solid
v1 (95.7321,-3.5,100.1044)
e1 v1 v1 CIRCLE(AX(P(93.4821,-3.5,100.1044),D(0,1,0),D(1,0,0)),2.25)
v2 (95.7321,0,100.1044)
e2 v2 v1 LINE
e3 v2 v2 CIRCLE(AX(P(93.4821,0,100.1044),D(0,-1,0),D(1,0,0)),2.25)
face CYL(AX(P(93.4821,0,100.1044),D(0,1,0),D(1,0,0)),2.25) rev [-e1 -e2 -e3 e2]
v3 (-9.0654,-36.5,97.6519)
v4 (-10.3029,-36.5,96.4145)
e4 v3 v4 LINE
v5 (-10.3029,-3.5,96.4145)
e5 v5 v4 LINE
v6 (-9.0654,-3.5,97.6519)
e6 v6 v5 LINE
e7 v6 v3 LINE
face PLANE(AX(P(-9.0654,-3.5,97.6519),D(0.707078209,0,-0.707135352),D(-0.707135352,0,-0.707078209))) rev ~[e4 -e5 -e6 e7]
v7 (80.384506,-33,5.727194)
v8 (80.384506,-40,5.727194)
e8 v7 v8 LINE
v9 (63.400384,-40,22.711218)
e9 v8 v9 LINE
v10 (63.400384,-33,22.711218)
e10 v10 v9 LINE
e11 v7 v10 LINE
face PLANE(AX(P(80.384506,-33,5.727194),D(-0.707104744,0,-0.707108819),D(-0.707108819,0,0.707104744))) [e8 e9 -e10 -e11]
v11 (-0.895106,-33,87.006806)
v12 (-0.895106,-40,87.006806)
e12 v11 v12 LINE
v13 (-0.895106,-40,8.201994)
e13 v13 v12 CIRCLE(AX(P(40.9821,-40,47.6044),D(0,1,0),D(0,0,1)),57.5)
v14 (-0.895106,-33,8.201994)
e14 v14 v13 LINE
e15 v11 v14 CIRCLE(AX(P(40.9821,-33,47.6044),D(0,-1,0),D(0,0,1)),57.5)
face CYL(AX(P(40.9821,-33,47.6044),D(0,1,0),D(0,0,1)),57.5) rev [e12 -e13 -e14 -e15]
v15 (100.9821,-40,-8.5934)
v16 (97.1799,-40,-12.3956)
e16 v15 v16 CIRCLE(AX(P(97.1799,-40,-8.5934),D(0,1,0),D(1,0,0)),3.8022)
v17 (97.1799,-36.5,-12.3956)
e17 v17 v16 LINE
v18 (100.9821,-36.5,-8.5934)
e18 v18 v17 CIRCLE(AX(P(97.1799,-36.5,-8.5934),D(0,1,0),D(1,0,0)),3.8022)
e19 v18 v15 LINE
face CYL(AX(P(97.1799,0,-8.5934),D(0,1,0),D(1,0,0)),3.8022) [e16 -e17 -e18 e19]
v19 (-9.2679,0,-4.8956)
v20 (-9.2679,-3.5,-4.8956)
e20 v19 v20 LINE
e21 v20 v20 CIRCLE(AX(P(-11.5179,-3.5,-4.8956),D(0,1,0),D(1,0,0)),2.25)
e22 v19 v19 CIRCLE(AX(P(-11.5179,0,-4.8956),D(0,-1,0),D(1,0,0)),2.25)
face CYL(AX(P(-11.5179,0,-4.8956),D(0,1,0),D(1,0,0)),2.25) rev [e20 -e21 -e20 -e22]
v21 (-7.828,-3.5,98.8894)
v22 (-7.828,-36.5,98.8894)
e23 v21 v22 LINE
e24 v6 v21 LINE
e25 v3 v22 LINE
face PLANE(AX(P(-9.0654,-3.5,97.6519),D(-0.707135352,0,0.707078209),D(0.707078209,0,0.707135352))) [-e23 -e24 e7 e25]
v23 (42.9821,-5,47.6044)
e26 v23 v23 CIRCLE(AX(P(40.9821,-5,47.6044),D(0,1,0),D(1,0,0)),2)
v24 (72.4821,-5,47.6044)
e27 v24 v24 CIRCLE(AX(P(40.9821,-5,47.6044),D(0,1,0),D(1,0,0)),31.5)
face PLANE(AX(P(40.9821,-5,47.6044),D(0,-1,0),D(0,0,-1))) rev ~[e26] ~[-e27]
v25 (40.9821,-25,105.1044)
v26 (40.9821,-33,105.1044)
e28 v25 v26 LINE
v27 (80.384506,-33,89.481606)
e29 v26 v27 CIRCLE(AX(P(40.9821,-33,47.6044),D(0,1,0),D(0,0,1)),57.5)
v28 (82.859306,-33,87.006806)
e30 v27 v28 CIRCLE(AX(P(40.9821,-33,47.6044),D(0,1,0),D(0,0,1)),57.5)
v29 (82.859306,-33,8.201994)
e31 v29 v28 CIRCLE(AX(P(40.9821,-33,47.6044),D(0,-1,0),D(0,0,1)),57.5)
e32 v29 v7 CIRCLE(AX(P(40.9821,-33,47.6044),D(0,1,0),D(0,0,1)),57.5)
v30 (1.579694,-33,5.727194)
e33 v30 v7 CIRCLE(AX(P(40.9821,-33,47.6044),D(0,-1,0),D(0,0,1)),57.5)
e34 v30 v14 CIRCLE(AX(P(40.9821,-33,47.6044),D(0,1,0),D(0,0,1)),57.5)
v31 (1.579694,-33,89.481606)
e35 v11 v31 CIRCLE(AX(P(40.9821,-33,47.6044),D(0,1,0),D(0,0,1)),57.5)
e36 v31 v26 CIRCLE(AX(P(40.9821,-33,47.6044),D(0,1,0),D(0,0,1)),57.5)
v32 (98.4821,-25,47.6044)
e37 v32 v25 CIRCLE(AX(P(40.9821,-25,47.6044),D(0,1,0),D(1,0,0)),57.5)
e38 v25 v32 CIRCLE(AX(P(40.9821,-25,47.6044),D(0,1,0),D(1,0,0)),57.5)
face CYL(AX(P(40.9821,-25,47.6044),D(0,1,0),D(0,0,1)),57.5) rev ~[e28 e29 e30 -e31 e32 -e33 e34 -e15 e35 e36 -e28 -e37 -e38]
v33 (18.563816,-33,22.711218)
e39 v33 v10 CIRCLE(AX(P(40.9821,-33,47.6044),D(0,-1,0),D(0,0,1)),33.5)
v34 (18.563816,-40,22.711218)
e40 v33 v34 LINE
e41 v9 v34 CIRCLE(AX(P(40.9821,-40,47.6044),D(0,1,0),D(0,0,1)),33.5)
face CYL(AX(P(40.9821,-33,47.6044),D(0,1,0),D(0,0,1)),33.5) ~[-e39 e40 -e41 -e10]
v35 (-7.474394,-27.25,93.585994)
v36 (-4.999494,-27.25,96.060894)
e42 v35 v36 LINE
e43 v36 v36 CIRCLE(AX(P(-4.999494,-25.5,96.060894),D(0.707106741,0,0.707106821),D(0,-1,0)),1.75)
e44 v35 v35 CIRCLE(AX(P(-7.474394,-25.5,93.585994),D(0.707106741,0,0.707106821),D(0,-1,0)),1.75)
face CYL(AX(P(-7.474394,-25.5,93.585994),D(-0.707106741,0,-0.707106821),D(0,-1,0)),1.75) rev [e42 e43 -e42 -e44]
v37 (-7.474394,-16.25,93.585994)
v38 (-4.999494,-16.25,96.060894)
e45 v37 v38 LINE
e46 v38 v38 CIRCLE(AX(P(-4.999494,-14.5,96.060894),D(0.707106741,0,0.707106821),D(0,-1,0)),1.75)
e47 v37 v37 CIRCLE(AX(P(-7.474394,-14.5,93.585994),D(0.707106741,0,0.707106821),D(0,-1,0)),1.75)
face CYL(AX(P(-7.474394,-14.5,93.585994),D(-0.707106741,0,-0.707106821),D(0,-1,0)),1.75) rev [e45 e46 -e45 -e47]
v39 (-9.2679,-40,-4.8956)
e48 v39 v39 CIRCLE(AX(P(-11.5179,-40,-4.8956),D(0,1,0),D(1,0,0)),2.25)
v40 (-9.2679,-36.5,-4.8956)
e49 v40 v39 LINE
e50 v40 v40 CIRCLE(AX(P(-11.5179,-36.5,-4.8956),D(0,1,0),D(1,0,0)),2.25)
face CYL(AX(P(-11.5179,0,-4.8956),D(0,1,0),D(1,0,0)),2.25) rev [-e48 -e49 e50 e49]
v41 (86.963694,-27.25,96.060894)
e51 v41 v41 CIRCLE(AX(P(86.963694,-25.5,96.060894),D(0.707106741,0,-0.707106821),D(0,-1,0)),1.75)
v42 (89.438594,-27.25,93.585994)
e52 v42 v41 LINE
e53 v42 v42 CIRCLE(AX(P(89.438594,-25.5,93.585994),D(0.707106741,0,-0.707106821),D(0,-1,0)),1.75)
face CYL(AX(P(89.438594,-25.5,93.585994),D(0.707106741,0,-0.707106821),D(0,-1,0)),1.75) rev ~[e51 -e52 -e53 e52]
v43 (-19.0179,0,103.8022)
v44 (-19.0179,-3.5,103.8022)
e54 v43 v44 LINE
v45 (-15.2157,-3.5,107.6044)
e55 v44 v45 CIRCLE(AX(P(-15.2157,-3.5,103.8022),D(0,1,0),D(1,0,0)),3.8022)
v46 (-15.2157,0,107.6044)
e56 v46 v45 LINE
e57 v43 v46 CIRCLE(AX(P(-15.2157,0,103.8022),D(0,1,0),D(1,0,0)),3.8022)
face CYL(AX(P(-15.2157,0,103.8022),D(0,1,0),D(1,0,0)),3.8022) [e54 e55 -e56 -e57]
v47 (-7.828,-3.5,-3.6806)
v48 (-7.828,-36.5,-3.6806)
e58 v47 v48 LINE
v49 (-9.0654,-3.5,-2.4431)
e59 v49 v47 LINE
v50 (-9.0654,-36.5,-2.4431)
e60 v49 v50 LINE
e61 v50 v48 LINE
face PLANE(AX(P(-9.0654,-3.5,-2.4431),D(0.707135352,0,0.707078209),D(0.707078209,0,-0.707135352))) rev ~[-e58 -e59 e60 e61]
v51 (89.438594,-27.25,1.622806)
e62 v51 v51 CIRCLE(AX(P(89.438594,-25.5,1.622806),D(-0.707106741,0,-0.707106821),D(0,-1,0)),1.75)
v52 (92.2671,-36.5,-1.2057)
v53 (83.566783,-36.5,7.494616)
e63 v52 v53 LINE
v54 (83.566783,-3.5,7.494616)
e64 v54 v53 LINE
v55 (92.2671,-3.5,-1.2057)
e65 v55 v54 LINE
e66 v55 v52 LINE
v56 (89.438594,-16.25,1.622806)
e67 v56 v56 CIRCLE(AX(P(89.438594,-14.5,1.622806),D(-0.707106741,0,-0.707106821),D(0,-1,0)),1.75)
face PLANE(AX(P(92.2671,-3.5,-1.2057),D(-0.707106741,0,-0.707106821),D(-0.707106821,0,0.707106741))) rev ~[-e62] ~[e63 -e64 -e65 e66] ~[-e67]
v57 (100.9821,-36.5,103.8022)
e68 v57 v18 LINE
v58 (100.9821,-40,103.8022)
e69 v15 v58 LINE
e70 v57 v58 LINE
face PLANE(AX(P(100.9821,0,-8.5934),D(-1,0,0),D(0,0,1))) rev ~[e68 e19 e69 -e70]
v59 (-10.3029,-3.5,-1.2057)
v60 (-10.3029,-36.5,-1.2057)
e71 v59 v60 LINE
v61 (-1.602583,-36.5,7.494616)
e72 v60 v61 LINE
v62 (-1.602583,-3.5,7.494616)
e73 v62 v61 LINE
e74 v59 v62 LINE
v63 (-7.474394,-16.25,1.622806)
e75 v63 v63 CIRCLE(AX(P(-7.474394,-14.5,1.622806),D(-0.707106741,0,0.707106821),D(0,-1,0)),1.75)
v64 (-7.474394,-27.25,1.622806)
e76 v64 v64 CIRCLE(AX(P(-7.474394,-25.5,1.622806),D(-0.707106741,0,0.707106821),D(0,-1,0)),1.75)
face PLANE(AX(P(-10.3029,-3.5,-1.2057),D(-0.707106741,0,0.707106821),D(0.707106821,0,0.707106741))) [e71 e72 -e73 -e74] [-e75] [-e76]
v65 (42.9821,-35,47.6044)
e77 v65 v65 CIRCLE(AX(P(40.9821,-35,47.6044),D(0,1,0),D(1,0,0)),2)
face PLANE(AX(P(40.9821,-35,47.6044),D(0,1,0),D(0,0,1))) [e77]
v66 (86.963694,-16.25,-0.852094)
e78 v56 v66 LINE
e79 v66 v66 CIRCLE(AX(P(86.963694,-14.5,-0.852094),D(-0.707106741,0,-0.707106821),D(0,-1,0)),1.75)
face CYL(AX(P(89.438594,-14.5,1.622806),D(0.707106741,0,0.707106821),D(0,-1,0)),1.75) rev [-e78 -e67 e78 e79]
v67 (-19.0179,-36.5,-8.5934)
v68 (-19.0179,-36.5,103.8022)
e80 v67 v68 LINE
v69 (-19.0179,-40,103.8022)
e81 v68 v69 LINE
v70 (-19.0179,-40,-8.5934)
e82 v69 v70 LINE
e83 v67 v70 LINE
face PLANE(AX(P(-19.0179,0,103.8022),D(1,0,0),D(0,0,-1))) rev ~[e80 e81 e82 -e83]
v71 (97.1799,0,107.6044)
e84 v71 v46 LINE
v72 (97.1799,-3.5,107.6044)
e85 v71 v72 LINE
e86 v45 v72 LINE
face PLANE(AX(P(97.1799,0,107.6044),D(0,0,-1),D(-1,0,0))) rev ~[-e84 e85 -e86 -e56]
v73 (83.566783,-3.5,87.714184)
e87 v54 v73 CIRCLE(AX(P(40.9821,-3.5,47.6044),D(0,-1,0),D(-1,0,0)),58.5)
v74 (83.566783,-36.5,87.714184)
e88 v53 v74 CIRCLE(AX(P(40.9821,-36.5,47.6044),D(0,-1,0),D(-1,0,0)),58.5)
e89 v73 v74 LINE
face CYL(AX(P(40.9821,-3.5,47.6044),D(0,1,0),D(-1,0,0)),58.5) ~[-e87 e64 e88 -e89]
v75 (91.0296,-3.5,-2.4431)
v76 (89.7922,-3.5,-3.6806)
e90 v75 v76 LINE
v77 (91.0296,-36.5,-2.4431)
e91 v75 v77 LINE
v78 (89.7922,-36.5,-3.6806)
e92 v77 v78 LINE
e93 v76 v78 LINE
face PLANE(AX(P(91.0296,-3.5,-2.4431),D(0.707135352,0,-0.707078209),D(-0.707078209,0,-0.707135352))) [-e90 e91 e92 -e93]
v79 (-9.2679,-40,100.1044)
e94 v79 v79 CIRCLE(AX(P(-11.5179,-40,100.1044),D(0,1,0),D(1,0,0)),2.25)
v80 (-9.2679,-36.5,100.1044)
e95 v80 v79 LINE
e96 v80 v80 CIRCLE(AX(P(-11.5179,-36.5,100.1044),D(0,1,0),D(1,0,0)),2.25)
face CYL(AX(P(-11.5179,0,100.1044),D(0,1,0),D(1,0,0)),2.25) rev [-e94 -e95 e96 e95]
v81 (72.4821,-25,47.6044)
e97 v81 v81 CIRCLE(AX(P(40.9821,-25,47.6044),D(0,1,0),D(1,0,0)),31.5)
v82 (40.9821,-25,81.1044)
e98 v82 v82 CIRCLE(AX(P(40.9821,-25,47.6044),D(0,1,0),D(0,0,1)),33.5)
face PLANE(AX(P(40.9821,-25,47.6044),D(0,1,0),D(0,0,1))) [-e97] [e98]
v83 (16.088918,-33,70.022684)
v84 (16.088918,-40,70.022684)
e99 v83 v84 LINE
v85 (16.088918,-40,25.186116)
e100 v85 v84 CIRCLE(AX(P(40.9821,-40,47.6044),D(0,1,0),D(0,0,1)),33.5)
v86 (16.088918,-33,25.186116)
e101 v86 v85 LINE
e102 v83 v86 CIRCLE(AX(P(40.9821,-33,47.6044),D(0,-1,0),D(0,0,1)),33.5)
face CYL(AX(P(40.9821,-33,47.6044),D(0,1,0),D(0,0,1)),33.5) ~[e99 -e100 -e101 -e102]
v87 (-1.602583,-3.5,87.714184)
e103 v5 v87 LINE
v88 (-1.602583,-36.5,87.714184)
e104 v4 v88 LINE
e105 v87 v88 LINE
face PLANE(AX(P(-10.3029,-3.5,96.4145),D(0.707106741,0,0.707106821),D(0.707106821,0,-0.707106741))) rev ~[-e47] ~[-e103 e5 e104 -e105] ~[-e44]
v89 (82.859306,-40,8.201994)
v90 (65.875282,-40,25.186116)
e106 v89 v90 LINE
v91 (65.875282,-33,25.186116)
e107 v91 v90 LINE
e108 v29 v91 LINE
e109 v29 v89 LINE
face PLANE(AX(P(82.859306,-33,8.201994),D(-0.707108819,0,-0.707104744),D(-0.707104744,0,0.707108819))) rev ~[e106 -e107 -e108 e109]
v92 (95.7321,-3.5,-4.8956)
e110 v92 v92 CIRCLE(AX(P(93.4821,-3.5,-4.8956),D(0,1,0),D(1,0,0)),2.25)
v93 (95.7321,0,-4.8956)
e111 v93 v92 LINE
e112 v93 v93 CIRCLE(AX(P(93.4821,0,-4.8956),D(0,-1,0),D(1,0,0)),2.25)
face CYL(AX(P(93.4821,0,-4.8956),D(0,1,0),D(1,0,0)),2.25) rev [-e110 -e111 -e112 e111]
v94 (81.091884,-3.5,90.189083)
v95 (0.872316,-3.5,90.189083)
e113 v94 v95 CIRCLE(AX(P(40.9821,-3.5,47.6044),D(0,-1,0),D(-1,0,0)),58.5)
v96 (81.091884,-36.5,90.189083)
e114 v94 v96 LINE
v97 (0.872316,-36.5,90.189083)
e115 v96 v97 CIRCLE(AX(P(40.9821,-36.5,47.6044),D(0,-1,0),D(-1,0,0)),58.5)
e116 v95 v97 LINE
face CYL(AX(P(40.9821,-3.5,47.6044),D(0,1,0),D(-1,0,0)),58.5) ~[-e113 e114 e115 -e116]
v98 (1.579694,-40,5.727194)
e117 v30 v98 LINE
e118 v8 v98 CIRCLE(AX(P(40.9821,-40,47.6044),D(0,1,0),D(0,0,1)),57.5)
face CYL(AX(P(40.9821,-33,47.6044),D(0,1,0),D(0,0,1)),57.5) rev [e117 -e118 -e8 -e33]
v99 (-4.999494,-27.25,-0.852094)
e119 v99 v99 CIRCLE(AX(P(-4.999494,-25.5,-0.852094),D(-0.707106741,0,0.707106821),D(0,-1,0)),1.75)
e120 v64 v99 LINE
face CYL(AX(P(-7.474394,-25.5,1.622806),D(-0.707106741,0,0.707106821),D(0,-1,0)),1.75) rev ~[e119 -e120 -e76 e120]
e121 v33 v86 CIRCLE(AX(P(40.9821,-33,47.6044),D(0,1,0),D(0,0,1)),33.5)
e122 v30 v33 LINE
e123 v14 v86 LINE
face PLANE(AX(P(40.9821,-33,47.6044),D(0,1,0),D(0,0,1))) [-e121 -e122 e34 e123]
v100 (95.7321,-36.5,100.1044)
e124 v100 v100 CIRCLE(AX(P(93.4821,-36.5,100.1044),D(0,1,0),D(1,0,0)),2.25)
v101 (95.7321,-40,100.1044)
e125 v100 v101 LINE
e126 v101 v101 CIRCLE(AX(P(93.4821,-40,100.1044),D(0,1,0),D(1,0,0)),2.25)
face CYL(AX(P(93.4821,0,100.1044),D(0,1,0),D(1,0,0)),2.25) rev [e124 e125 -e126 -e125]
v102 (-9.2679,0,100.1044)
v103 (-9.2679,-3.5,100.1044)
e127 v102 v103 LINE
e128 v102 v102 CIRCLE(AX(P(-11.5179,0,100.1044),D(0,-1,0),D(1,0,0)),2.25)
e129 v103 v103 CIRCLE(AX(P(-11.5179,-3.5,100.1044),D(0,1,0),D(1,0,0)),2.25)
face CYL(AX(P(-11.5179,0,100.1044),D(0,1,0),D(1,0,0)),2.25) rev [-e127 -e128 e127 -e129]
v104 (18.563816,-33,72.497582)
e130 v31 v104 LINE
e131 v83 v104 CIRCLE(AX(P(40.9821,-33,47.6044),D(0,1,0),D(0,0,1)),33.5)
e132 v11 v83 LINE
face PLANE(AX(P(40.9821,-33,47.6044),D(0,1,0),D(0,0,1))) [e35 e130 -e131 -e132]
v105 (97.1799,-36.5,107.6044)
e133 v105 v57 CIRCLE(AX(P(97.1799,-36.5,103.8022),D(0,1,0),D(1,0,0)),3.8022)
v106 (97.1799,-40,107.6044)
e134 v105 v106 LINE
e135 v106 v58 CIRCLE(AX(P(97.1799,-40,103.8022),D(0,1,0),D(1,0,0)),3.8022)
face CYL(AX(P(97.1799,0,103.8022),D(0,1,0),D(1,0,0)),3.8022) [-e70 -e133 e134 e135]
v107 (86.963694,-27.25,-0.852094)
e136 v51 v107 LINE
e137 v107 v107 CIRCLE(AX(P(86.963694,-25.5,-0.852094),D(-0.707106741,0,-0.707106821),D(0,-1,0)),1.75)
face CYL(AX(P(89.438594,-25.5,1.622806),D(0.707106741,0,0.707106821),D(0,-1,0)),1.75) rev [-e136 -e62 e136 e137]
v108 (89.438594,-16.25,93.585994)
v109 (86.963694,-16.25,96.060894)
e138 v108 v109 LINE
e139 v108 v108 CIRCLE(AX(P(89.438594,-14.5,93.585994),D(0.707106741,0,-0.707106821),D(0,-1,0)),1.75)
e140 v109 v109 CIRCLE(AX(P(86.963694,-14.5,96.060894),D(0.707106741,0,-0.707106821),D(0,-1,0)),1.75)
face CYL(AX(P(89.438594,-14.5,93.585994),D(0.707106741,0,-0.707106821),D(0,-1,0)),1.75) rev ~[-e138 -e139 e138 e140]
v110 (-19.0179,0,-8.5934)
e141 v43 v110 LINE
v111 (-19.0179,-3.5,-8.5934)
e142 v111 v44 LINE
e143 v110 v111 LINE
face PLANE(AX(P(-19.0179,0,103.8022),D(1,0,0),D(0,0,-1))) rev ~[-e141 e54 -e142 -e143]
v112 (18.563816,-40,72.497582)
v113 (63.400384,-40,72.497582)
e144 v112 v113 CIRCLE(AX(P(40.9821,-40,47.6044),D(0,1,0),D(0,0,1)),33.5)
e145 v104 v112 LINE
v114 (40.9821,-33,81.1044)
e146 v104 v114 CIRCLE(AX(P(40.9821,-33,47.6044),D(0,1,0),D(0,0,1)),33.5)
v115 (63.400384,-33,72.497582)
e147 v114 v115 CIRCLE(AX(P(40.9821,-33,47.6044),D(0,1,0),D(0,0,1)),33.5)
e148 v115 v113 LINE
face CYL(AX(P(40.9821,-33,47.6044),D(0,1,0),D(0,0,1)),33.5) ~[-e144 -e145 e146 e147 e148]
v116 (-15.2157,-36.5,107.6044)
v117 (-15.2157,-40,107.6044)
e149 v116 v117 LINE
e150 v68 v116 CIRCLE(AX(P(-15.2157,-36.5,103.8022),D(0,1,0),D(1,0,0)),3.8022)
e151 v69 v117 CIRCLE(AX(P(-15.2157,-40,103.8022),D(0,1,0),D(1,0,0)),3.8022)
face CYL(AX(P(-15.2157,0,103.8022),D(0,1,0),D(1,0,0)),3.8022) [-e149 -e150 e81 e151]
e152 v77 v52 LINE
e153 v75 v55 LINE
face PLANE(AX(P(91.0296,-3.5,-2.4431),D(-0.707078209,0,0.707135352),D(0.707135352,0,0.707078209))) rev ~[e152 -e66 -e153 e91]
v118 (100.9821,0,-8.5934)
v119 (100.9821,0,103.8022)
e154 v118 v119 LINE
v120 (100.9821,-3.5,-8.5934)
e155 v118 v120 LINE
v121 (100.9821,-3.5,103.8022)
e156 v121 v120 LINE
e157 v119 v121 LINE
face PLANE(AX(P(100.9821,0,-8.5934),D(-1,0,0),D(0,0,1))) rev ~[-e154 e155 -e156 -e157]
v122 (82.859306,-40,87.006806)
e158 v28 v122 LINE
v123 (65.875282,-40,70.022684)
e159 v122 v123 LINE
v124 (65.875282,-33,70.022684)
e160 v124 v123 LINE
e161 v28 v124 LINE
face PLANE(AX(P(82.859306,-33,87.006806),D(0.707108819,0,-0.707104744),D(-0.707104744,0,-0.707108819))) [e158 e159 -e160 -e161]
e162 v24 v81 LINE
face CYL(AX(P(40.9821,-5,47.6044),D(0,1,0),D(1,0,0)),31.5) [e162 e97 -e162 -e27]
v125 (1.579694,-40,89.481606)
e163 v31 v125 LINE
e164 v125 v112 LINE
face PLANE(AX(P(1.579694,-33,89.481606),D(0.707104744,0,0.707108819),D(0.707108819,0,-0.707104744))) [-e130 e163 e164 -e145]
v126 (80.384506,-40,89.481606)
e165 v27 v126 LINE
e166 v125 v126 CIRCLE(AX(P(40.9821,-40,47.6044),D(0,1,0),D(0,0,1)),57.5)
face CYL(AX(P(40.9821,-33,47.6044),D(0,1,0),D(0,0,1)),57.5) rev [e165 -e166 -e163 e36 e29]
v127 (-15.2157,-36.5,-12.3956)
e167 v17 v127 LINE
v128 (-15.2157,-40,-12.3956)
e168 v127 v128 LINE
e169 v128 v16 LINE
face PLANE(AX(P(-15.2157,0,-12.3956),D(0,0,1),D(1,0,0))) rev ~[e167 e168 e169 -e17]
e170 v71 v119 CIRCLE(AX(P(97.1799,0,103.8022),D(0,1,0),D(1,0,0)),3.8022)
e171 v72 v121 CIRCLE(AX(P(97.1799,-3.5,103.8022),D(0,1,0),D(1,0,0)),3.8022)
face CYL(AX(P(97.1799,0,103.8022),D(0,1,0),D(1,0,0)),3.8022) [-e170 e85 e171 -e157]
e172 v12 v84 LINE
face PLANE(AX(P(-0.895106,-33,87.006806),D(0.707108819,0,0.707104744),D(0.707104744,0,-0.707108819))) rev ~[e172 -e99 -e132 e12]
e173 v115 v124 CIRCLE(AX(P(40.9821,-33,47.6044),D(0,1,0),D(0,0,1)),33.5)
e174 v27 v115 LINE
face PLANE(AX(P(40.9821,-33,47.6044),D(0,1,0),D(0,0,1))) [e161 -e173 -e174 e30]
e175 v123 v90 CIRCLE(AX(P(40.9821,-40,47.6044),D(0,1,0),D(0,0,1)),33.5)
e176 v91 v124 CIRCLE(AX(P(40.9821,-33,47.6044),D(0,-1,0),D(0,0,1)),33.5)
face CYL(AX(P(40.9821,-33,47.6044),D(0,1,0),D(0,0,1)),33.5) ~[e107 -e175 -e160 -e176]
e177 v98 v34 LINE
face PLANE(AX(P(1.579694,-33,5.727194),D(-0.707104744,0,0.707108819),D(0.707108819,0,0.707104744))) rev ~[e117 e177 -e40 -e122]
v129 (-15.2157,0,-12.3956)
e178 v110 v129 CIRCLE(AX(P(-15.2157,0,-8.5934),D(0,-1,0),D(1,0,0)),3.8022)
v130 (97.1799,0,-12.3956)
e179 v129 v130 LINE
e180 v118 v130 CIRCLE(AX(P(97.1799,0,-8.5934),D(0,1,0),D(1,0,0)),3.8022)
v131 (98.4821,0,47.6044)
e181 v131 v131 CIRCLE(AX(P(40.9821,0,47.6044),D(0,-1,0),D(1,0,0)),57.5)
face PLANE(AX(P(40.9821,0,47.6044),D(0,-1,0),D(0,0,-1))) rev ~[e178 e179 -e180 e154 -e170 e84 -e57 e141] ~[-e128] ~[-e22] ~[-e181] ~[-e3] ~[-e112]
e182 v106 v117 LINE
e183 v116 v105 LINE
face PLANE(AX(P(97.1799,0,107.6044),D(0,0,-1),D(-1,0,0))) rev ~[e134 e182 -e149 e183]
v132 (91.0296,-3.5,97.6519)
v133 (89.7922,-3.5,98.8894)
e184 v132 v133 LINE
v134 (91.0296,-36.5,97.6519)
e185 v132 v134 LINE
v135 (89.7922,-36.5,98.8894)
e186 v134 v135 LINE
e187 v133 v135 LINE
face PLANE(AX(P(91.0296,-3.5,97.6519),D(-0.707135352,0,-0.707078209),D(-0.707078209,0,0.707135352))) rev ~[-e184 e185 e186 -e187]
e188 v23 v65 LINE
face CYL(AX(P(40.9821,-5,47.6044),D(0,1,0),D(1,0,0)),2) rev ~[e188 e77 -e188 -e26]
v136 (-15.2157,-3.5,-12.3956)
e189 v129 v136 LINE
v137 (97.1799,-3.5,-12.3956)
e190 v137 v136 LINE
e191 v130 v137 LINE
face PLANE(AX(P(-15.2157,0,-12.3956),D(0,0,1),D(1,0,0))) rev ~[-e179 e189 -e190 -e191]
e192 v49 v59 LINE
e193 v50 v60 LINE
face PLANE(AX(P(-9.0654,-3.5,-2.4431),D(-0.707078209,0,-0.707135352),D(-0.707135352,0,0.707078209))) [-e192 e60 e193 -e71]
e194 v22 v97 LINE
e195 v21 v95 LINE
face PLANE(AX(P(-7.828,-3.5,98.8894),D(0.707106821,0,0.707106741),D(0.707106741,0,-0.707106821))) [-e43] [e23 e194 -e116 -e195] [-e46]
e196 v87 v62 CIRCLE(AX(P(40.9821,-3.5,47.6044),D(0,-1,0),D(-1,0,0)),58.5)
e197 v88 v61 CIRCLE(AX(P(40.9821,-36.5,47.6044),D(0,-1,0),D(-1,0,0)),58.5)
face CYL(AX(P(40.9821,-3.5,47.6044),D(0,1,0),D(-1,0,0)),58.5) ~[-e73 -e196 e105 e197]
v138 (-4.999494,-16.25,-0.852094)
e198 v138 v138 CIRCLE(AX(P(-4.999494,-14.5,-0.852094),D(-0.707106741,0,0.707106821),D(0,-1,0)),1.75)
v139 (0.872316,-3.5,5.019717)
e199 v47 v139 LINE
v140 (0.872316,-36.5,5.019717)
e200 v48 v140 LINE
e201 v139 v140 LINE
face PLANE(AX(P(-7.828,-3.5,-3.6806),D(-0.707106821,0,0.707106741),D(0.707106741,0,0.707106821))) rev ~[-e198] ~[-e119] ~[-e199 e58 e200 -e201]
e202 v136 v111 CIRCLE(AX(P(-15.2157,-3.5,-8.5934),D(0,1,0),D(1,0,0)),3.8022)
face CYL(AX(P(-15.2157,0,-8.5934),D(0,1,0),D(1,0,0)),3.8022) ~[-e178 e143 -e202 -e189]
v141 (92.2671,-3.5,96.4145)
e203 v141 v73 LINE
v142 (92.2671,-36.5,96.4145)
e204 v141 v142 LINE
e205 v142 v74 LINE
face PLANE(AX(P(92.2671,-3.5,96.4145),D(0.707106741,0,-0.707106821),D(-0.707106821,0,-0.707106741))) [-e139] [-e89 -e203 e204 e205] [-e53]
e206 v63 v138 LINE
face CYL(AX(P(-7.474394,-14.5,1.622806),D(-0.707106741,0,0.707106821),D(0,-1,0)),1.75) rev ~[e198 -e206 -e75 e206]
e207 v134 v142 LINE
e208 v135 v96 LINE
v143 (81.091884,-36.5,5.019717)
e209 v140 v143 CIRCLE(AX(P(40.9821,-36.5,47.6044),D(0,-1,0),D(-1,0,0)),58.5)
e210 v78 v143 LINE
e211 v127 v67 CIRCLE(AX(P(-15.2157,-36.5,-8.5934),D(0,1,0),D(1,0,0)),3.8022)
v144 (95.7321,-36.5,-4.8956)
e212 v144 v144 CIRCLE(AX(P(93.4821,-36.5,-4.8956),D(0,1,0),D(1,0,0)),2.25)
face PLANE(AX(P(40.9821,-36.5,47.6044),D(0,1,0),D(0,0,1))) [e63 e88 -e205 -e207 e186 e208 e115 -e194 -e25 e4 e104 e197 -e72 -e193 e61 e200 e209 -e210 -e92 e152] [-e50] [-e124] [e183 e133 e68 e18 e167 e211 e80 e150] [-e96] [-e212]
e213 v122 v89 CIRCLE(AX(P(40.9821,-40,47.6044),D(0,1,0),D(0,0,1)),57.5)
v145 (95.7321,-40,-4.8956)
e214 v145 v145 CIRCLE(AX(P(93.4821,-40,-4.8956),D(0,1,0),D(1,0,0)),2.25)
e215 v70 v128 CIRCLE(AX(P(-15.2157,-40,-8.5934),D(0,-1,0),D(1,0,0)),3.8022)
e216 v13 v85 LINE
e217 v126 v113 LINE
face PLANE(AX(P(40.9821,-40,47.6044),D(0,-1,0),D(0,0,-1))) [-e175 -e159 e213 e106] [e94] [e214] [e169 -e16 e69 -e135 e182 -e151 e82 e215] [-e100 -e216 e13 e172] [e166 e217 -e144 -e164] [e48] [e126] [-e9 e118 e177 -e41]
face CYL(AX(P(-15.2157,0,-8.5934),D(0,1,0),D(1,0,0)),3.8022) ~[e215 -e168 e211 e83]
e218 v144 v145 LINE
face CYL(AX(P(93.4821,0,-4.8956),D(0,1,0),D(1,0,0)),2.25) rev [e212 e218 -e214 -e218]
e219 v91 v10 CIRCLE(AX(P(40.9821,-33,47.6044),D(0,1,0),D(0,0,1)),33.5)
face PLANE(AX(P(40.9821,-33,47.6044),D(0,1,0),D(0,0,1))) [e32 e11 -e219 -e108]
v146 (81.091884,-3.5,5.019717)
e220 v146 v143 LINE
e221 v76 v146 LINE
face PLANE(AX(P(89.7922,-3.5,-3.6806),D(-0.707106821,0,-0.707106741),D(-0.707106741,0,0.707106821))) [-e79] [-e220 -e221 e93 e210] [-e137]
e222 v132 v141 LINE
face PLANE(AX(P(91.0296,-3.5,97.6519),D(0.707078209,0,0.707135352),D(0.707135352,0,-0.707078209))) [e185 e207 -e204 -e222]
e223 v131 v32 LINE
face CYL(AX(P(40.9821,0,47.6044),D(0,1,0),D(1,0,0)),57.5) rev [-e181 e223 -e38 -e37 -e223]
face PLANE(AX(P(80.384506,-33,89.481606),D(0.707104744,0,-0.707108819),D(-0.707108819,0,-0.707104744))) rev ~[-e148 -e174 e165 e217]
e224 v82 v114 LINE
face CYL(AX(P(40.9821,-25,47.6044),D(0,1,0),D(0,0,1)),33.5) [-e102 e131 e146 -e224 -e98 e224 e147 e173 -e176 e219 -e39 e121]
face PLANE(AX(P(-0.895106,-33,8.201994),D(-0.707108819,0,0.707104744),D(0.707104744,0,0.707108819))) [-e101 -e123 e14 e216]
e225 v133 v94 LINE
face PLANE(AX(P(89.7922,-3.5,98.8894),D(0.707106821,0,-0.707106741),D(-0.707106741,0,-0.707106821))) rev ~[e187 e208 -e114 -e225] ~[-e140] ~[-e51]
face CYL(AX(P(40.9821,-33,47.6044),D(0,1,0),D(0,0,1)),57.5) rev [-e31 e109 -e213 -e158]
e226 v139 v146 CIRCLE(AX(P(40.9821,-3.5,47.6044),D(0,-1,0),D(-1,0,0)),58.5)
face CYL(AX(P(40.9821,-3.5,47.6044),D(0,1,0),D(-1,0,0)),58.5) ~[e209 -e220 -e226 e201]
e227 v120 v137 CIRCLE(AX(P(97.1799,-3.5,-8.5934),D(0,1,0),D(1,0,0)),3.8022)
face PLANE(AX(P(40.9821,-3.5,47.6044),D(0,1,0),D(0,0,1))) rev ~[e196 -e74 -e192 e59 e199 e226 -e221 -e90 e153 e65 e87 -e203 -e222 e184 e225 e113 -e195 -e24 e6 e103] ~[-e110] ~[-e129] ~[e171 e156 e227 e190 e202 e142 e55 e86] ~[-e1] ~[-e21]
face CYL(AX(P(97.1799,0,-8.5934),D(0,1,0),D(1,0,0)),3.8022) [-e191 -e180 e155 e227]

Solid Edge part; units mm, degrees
sketch "Sketch1" plane through (0, 0, 0) normal (0, -1, 0) x (1, 0, 0)
  line L0 (100.9821, -8.5934) -> (100.9821, 103.8022)
  arc A0 (97.1799, 107.6044) -> (100.9821, 103.8022) centre (97.1799, 103.8022) cw
  line L1 (97.1799, 107.6044) -> (-15.2157, 107.6044)
  arc A1 (-19.0179, 103.8022) -> (-15.2157, 107.6044) centre (-15.2157, 103.8022) cw
  line L2 (-19.0179, 103.8022) -> (-19.0179, -8.5934)
  arc A2 (-19.0179, -8.5934) -> (-15.2157, -12.3956) centre (-15.2157, -8.5934) ccw
  line L3 (-15.2157, -12.3956) -> (97.1799, -12.3956)
  arc A3 (100.9821, -8.5934) -> (97.1799, -12.3956) centre (97.1799, -8.5934) cw
extrude "Protrusion1" add sketch "Sketch1" along normal blind 40
sketch "Sketch2" plane through (0, 0, 0) normal (0, -1, 0) x (1, 0, 0)
  circle A0 centre (93.4821, -4.8956) radius 2.25
  circle A1 centre (-11.5179, -4.8956) radius 2.25
  circle A2 centre (-11.5179, 100.1044) radius 2.25
  circle A3 centre (93.4821, 100.1044) radius 2.25
  dimension "D1" = 112.3956
  dimension "D2" = 112.3956
  dimension "D3" = 115
  dimension "D4" = 52.5
  dimension "D5" = 52.5
  dimension "D6" = 52.5
  dimension "D7" = 52.5
  dimension "D8" = 52.5
  dimension "D9" = 4.5
extrude "Cutout1" cut sketch "Sketch2" along normal up to next
sketch "Sketch3" plane through (40.9821, -3.5, 47.6044) normal (0, 1, 0) x (-1, 0, 0)
  line L0 (-48.8101, 51.285) -> (-40.1098, 42.5847)
  arc A0 (-40.1098, 42.5847) -> (40.1098, 42.5847) centre (0, 0) cw
  line L1 (48.8101, 51.285) -> (40.1098, 42.5847)
  line L2 (50.0475, 50.0475) -> (48.8101, 51.285)
  line L3 (50.0475, 50.0475) -> (51.285, 48.8101)
  line L4 (51.285, 48.8101) -> (42.5847, 40.1098)
  arc A1 (42.5847, 40.1098) -> (42.5847, -40.1098) centre (0, 0) cw
  line L5 (51.285, -48.8101) -> (42.5847, -40.1098)
  line L6 (50.0475, -50.0475) -> (51.285, -48.8101)
  line L7 (50.0475, -50.0475) -> (48.8101, -51.285)
  line L8 (48.8101, -51.285) -> (40.1098, -42.5847)
  line L9 (-48.8101, -51.285) -> (-40.1098, -42.5847)
  line L10 (-50.0475, -50.0475) -> (-48.8101, -51.285)
  line L11 (-50.0475, -50.0475) -> (-51.285, -48.8101)
  line L12 (-51.285, -48.8101) -> (-42.5847, -40.1098)
  arc A2 (-42.5847, -40.1098) -> (-42.5847, 40.1098) centre (0, 0) cw
  line L13 (-51.285, 48.8101) -> (-42.5847, 40.1098)
  line L14 (-50.0475, 50.0475) -> (-51.285, 48.8101)
  line L15 (-50.0475, 50.0475) -> (-48.8101, 51.285)
  arc A3 (40.1098, -42.5847) -> (-40.1098, -42.5847) centre (0, 0) cw
  line L16 (60, 60) -> (-60, 60)
  line L17 (-60, 60) -> (-60, -60)
  line L18 (-60, -60) -> (60, -60)
  line L19 (60, -60) -> (60, 60)
extrude "拉伸除料_2" cut sketch "Sketch3" against normal blind 33
sketch "Sketch4" plane through (0, 0, 0) normal (0, -1, 0) x (1, 0, 0)
  circle A0 centre (40.9821, 47.6044) radius 57.5
extrude "拉伸除料_3" cut sketch "Sketch4" along normal blind 5
sketch "Sketch5" plane through (40.9821, -5, 47.6044) normal (0, 1, 0) x (1, 0, 0)
  circle A0 centre (0, 0) radius 31.5
  circle A1 centre (0, 0) radius 57.5
  dimension "D1" = 63
extrude "拉伸除料_4" cut sketch "Sketch5" against normal blind 20
sketch "Sketch6" plane through (40.9821, -25, 47.6044) normal (0, 1, 0) x (0, 0, 1)
  circle A0 centre (0, 0) radius 33.5
  circle A1 centre (0, 0) radius 57.5
  dimension "D1" = 67
extrude "拉伸除料_5" cut sketch "Sketch6" against normal blind 8
sketch "Sketch7" plane through (40.9821, -33, 47.6044) normal (0, 1, 0) x (0, 0, 1)
  line L0 (41.8772, -39.4024) -> (24.8932, -22.4183)
  arc A0 (41.8772, 39.4024) -> (41.8772, -39.4024) centre (0, 0) cw
  line L1 (41.8772, 39.4024) -> (24.8932, 22.4183)
  arc A1 (24.8932, 22.4183) -> (24.8932, -22.4183) centre (0, 0) cw
extrude "Cutout2" cut sketch "Sketch7" against normal up to next
sketch "Sketch8" plane through (40.9821, -33, 47.6044) normal (0, 1, 0) x (0, 0, 1)
  arc A0 (-39.4024, 41.8772) -> (39.4024, 41.8772) centre (0, 0) cw
  line L0 (39.4024, 41.8772) -> (22.4183, 24.8932)
  arc A1 (-22.4183, 24.8932) -> (22.4183, 24.8932) centre (0, 0) cw
  line L1 (-39.4024, 41.8772) -> (-22.4183, 24.8932)
extrude "Cutout3" cut sketch "Sketch8" against normal up to next
sketch "Sketch9" plane through (40.9821, -33, 47.6044) normal (0, 1, 0) x (0, 0, 1)
  line L0 (39.4024, -41.8772) -> (22.4183, -24.8932)
  arc A0 (22.4183, -24.8932) -> (-22.4183, -24.8932) centre (0, 0) cw
  line L1 (-39.4024, -41.8772) -> (-22.4183, -24.8932)
  arc A1 (39.4024, -41.8772) -> (-39.4024, -41.8772) centre (0, 0) cw
extrude "Cutout4" cut sketch "Sketch9" against normal up to next
sketch "Sketch10" plane through (40.9821, -33, 47.6044) normal (0, 1, 0) x (0, 0, 1)
  arc A0 (-24.8932, -22.4183) -> (-24.8932, 22.4183) centre (0, 0) cw
  line L0 (-41.8772, 39.4024) -> (-24.8932, 22.4183)
  line L1 (-41.8772, -39.4024) -> (-24.8932, -22.4183)
  arc A1 (-41.8772, -39.4023) -> (-41.8773, 39.4023) centre (0, 0) cw
extrude "Cutout5" cut sketch "Sketch10" against normal up to next
sketch "Sketch11" plane through (40.9821, -5, 47.6044) normal (0, 1, 0) x (1, 0, 0)
  circle A0 centre (0, 0) radius 2
extrude "拉伸除料_11" cut sketch "Sketch11" against normal blind 30
sketch "Sketch12" plane through (87.9169, -20, 92.0643) normal (0.7071, 0, -0.7071) x (0, -1, 0)
  circle A0 centre (-5.5, -2.152) radius 1.75
  circle A1 centre (5.5, -2.152) radius 1.75
  dimension "D1" = 3.5
  dimension "D2" = 3.5
  dimension "D3" = 11
  dimension "D4" = 4
  dimension "D5" = 11
  dimension "D6" = 11
extrude "Cutout6" cut sketch "Sketch12" against normal up to next
mirror "Mirror1" about plane through (40.9821, -38.25, 47.6044) normal (1, 0, 0) of "Cutout6"
mirror "Mirror2" about plane through (40.9821, -1.75, 47.6044) normal (0, 0, -1) of "Mirror1", "Cutout6"
